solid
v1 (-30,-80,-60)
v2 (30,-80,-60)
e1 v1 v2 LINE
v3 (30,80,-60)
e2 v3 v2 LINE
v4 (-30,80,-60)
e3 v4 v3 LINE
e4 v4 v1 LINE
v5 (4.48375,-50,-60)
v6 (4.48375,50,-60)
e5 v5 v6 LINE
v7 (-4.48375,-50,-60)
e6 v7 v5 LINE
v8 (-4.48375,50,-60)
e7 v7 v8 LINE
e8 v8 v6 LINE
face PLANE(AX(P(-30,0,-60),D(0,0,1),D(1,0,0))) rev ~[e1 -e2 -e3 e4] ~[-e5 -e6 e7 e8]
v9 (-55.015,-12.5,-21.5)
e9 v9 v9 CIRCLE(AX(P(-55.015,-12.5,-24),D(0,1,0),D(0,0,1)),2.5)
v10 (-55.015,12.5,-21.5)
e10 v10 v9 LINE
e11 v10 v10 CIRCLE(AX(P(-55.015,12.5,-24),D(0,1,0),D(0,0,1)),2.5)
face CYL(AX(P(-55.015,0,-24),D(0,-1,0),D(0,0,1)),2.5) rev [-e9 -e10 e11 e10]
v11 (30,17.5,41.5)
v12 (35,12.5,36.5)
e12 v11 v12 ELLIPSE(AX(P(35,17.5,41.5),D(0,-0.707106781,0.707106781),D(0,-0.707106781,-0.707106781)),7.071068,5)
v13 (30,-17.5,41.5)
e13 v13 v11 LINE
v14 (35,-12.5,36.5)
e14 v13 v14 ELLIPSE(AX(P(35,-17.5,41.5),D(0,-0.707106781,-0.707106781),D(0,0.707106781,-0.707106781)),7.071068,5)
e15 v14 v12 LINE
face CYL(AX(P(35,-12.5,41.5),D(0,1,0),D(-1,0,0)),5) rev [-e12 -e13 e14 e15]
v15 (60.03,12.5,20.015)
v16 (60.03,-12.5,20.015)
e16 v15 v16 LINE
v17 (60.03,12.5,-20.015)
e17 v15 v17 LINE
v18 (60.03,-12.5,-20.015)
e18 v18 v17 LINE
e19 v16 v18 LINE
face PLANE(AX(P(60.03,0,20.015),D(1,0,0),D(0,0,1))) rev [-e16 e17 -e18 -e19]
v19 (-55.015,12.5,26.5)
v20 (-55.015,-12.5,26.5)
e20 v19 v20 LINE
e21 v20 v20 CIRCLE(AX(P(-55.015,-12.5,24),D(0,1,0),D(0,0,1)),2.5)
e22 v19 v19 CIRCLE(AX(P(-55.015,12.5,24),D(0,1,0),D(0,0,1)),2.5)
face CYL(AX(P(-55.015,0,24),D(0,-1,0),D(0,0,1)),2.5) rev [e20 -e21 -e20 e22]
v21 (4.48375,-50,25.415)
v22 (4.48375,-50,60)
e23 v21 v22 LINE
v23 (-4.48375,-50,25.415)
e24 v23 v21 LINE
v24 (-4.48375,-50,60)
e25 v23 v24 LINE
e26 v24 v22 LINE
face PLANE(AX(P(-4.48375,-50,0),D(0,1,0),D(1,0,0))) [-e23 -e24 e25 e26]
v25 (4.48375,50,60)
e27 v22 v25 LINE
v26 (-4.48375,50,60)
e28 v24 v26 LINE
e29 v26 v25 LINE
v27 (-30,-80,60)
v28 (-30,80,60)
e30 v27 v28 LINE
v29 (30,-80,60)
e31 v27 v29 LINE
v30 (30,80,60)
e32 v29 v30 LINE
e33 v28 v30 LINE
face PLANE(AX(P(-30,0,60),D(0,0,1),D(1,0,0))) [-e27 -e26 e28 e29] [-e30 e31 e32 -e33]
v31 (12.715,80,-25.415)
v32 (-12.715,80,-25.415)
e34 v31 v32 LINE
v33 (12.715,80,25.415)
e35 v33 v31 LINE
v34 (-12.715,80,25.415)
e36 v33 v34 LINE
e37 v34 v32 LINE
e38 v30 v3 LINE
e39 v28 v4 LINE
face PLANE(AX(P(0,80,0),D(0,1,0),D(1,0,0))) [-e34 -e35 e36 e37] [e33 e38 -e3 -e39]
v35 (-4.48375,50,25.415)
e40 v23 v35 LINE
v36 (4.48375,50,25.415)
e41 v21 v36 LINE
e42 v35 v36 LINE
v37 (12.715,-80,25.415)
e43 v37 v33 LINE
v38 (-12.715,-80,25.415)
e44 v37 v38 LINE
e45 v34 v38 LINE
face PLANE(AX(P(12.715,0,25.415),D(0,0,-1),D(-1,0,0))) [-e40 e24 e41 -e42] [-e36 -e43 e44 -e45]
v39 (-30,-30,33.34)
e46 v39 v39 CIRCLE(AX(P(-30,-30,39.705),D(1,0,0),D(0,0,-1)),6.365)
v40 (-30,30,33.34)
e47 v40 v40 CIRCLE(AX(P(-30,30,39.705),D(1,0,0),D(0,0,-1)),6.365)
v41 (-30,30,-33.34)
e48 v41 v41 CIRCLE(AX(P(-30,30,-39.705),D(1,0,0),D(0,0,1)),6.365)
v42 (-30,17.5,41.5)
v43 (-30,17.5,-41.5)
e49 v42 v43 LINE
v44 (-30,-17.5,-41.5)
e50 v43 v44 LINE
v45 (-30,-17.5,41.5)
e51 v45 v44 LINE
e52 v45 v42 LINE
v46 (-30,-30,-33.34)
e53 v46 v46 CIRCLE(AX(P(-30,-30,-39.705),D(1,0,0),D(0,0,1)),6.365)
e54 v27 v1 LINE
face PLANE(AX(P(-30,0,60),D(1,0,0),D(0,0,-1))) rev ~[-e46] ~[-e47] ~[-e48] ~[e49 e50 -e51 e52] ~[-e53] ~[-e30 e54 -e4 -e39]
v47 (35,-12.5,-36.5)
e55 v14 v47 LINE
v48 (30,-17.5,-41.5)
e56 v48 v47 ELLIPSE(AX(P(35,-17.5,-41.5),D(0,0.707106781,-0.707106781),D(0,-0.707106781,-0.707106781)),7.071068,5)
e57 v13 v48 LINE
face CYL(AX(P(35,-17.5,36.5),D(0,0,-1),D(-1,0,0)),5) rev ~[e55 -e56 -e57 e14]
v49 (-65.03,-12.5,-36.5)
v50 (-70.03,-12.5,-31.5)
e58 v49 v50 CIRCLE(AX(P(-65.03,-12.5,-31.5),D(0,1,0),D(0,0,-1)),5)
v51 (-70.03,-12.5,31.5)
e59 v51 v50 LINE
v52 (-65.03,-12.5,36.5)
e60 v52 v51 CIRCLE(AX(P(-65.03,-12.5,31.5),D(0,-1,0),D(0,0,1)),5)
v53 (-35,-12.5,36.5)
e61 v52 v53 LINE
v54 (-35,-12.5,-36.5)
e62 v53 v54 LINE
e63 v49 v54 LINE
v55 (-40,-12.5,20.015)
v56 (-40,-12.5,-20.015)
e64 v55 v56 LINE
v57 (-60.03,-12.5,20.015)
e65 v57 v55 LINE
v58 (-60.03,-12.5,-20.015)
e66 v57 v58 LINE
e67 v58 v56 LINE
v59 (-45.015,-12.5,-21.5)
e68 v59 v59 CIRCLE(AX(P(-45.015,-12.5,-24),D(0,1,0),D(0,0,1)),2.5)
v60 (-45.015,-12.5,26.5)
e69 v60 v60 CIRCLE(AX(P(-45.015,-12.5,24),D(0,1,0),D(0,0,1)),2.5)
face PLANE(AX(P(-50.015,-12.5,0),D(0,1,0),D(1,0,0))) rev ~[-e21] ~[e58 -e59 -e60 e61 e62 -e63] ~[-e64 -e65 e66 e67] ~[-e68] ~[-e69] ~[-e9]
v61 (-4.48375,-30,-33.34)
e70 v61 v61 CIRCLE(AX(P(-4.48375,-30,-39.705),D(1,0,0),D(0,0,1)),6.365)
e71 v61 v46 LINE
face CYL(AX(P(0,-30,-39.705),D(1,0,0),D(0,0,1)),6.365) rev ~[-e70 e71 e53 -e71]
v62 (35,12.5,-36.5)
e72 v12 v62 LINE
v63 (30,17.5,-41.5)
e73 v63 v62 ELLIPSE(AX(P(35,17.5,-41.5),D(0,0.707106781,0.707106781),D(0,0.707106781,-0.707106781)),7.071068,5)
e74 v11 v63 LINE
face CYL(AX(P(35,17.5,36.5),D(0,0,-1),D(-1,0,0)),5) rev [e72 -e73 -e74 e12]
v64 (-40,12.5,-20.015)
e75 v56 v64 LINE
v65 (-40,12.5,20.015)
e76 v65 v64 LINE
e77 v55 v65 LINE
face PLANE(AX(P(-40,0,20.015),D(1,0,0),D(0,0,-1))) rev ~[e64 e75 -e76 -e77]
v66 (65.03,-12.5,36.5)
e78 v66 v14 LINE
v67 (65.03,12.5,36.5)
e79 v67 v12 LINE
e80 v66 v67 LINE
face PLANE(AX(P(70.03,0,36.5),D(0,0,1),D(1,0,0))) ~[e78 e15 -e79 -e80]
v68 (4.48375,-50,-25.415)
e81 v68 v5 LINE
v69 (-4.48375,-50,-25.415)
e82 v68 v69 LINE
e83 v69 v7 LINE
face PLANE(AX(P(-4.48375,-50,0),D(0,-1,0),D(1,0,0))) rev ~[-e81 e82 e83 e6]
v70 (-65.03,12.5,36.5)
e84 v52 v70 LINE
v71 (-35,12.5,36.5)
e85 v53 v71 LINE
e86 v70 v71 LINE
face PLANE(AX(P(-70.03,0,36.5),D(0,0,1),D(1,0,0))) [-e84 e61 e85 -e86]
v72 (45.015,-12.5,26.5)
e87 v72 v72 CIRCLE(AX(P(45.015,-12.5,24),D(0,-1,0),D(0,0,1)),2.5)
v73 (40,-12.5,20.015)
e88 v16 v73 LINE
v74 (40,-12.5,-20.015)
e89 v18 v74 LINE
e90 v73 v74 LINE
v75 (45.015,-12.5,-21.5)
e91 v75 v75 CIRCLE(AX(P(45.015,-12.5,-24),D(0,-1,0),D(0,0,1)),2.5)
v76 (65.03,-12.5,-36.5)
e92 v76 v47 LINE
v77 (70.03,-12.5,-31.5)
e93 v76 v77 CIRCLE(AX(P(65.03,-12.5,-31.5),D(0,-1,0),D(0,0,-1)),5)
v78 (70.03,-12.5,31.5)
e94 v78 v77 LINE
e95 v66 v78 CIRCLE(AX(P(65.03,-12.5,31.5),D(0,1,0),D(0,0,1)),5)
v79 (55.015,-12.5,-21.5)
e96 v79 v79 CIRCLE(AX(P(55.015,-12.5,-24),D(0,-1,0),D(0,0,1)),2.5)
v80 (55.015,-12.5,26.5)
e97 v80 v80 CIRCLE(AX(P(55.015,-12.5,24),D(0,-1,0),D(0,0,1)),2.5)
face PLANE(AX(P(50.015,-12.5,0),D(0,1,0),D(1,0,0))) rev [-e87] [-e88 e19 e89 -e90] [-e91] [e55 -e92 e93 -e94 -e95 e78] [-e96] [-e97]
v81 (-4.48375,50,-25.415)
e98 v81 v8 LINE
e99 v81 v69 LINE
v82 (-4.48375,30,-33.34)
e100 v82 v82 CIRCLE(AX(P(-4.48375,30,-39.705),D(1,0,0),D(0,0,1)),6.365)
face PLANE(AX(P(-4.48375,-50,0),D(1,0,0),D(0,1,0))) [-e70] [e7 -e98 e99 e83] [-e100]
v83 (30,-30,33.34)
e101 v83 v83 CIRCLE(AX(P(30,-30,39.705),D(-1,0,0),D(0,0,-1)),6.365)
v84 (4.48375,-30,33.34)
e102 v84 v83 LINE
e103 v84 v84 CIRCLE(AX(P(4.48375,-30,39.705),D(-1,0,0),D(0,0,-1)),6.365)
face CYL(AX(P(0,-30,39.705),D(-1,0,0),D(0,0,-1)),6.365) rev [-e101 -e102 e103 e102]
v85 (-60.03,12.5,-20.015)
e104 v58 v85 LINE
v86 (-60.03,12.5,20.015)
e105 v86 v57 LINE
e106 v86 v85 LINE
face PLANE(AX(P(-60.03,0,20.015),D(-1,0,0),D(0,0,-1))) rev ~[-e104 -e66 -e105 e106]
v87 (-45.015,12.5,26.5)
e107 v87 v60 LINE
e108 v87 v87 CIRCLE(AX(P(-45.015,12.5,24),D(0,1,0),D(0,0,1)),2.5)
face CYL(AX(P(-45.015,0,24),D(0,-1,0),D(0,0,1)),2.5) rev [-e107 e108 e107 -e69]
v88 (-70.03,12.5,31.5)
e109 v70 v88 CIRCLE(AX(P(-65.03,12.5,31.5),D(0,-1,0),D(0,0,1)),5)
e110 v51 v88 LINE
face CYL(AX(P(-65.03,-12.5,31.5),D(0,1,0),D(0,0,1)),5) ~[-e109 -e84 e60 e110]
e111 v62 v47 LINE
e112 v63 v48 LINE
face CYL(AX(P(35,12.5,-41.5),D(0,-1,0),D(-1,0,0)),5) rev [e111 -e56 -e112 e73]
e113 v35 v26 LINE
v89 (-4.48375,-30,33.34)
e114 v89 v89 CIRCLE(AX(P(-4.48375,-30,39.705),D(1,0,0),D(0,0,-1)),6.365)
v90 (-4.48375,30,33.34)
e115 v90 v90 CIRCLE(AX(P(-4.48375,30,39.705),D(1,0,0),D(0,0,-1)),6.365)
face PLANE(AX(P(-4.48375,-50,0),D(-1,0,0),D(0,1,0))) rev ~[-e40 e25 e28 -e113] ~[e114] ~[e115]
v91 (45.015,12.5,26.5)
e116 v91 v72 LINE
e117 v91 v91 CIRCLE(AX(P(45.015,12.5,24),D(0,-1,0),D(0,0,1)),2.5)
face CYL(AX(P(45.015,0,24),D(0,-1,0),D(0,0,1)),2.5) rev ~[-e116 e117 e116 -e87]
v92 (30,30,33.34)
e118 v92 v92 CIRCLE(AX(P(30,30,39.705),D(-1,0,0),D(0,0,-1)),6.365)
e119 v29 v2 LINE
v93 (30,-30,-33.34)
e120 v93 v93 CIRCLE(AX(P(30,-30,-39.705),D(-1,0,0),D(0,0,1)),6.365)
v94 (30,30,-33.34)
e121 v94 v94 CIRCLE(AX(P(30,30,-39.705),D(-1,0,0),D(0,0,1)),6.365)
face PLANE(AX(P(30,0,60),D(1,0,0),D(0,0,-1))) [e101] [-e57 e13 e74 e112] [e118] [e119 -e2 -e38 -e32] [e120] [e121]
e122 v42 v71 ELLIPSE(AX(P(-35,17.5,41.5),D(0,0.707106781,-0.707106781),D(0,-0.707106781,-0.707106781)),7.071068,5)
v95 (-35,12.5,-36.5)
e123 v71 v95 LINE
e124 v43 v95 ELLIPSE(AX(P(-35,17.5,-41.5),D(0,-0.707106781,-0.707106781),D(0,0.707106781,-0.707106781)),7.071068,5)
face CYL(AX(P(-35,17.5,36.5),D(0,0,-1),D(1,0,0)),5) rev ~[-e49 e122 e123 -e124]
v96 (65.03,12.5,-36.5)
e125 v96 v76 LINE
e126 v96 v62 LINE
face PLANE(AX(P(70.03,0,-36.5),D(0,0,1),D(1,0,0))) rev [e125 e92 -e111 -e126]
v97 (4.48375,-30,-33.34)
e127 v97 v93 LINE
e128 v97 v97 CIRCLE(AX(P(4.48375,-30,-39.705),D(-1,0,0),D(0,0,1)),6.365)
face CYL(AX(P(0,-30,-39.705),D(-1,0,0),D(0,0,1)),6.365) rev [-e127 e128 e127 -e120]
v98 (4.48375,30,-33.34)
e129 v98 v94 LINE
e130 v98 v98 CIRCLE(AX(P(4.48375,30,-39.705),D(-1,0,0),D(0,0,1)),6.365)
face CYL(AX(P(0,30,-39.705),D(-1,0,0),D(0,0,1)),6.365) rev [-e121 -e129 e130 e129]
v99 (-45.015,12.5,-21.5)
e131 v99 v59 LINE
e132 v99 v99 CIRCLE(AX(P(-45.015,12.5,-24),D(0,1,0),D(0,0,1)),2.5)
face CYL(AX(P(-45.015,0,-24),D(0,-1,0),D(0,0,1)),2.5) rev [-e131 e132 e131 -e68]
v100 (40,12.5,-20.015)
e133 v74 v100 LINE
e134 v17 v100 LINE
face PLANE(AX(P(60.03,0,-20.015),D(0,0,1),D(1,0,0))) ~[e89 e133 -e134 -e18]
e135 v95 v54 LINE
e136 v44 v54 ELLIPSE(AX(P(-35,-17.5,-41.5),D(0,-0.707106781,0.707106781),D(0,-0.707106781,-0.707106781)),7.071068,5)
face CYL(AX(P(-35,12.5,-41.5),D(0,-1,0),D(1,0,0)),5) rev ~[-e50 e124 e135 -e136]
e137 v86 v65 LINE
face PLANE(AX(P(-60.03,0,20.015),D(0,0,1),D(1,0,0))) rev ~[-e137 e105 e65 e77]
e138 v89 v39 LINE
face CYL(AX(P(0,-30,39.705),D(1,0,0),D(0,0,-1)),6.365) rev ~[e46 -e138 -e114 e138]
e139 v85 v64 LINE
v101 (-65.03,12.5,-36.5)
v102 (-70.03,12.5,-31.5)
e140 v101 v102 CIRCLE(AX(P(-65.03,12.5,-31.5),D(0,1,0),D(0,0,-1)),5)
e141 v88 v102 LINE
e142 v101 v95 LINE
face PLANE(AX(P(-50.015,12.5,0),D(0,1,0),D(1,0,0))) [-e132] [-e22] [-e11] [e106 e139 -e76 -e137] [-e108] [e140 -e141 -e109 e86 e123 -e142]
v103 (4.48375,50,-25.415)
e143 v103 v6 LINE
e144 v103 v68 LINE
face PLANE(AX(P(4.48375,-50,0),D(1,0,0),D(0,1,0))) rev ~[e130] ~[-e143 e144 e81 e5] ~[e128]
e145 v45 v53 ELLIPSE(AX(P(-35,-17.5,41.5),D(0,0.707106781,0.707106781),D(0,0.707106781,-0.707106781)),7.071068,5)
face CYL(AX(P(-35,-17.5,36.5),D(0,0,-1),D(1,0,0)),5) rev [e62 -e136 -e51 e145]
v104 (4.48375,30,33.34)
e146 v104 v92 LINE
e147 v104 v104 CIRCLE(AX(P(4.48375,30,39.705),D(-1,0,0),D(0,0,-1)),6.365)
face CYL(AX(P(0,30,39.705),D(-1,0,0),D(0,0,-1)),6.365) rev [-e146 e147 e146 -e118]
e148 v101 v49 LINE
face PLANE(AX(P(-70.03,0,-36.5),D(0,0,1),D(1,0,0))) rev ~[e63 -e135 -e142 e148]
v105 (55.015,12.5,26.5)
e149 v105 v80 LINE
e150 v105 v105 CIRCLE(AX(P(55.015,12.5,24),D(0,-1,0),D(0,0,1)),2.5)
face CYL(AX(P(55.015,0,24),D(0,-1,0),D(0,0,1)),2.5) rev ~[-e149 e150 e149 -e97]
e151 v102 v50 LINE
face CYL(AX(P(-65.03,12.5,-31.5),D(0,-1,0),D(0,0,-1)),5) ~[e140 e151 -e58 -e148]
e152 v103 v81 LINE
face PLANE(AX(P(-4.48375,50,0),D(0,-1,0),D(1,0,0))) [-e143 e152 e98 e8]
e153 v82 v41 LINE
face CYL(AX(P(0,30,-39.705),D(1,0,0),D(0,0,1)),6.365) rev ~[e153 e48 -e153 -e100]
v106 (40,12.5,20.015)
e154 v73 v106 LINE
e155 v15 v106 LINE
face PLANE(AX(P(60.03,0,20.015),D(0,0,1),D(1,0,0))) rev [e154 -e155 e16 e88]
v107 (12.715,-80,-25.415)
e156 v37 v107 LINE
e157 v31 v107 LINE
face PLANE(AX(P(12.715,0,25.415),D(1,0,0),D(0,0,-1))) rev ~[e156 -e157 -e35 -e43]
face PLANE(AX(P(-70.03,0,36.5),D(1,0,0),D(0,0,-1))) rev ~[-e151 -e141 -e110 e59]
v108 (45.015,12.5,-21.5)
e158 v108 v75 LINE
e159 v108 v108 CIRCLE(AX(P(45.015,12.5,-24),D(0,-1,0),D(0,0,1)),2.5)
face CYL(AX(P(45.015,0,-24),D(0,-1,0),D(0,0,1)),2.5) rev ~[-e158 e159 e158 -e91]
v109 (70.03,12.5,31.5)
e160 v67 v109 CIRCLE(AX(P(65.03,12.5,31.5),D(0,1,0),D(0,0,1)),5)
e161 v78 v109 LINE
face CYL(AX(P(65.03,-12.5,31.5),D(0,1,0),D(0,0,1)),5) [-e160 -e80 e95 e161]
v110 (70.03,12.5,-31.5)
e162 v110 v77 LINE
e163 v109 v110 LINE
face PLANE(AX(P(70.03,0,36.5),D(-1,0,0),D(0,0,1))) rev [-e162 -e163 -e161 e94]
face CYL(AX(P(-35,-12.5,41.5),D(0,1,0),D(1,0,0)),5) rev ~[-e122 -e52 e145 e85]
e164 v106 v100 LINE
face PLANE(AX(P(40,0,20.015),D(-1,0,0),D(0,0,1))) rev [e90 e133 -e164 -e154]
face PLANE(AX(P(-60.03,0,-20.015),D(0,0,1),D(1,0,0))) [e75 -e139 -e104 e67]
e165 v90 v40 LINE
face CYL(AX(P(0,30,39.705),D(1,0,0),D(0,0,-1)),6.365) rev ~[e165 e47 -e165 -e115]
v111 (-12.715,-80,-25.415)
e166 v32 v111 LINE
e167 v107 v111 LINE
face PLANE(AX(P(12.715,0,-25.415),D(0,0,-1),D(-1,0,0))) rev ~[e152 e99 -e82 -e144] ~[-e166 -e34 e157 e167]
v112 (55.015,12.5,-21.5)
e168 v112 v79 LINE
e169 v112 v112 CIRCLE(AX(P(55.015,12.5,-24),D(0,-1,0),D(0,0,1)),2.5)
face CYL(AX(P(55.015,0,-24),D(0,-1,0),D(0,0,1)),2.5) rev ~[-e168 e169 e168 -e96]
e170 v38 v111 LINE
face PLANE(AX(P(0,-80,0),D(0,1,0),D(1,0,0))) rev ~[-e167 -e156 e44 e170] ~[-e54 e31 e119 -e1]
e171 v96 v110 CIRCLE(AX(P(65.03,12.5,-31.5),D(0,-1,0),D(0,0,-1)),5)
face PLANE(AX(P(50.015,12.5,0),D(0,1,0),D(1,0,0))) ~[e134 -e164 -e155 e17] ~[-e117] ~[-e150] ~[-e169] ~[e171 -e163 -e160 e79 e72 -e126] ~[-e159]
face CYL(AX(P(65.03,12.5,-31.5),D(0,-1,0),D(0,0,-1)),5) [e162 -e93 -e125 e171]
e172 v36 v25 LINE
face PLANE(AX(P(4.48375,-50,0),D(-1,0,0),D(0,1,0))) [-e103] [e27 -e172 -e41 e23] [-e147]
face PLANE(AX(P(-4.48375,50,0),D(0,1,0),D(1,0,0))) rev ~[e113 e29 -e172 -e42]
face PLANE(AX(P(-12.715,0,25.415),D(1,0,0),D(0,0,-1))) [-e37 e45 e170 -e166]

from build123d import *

# Parameters (mm, degrees)
SKETCH1_W                      = 60
SKETCH1_H                      = 120
BOSS_EXTRUDE1_DEPTH            = 80
CUT_EXTRUDE2_REACH             = 106.403
SKETCH3_W                      = 50.83
SKETCH3_H                      = 25.43
CUT_EXTRUDE2_DIRECTION_2_REACH = 106.403
CUT_EXTRUDE3_REACH             = 106.403
SKETCH5_W                      = 8.9675
SKETCH5_H                      = 100
CUT_EXTRUDE3_DIRECTION_2_REACH = 106.403
CUT_EXTRUDE4_REACH             = 106.403
SKETCH6_R                      = 6.365
CUT_EXTRUDE4_DIRECTION_2_REACH = 106.403
SKETCH7_W                      = 40.03
SKETCH7_H                      = 73
SKETCH7_R                      = 2.5
SKETCH7_W_2                    = 20.03
SKETCH7_H_2                    = 40.03
BOSS_EXTRUDE2_DEPTH            = 12.5
FILLET2_R                      = 5


with BuildPart() as part:
    # Sketch1 → Boss-Extrude1 (new, symmetric)
    with BuildSketch(Plane(origin=(0, 0, 0), x_dir=(1, 0, 0), z_dir=(0, 1, 0))):
        Rectangle(SKETCH1_W, SKETCH1_H)
    extrude(amount=BOSS_EXTRUDE1_DEPTH, both=True)

    # Cut-Extrude2: up to this face of the body (flat: up to its plane)
    cut_extrude2_end = Plane(part.part.faces().sort_by_distance((0, -80, 0))[0])
    # Sketch3 → Cut-Extrude2 (cut, up to the picked face)
    with BuildSketch(Plane(origin=(0, 0, 0), x_dir=(0, 0, -1), z_dir=(0, 1, 0)), mode=Mode.PRIVATE) as cut_extrude2_sk1:
        Rectangle(SKETCH3_W, SKETCH3_H)
    cut_extrude2_tool1 = split(extrude(cut_extrude2_sk1.sketch, amount=-CUT_EXTRUDE2_REACH, mode=Mode.PRIVATE), bisect_by=cut_extrude2_end, keep=Keep.BOTH, mode=Mode.PRIVATE)
    add(cut_extrude2_tool1.solids().sort_by(Axis((0, 0, 0), (0, -1, 0)))[0], mode=Mode.SUBTRACT)

    # Cut-Extrude2 direction 2: up to this face of the body (flat: up to its plane)
    cut_extrude2_direction_2_end = Plane(part.part.faces().sort_by_distance((0, 80, 0))[0])
    # Sketch3 → Cut-Extrude2 direction 2 (cut, up to the picked face)
    with BuildSketch(Plane(origin=(0, 0, 0), x_dir=(0, 0, -1), z_dir=(0, 1, 0)), mode=Mode.PRIVATE) as cut_extrude2_direction_2_sk1:
        Rectangle(SKETCH3_W, SKETCH3_H)
    cut_extrude2_direction_2_tool1 = split(extrude(cut_extrude2_direction_2_sk1.sketch, amount=CUT_EXTRUDE2_DIRECTION_2_REACH, mode=Mode.PRIVATE), bisect_by=cut_extrude2_direction_2_end, keep=Keep.BOTH, mode=Mode.PRIVATE)
    add(cut_extrude2_direction_2_tool1.solids().sort_by(Axis((0, 0, 0), (0, 1, 0)))[0], mode=Mode.SUBTRACT)

    # Cut-Extrude3: up to this face of the body (flat: up to its plane)
    cut_extrude3_end = Plane(part.part.faces().sort_by_distance((0, 0, 60))[0])
    # Sketch5 → Cut-Extrude3 (cut, up to the picked face)
    with BuildSketch(Plane.XY, mode=Mode.PRIVATE) as cut_extrude3_sk1:
        Rectangle(SKETCH5_W, SKETCH5_H)
    cut_extrude3_tool1 = split(extrude(cut_extrude3_sk1.sketch, amount=CUT_EXTRUDE3_REACH, mode=Mode.PRIVATE), bisect_by=cut_extrude3_end, keep=Keep.BOTH, mode=Mode.PRIVATE)
    add(cut_extrude3_tool1.solids().sort_by(Axis((0, 0, 0), (0, 0, 1)))[0], mode=Mode.SUBTRACT)

    # Cut-Extrude3 direction 2: up to this face of the body (flat: up to its plane)
    cut_extrude3_direction_2_end = Plane(part.part.faces().sort_by_distance((0, 0, -60))[0])
    # Sketch5 → Cut-Extrude3 direction 2 (cut, up to the picked face)
    with BuildSketch(Plane.XY, mode=Mode.PRIVATE) as cut_extrude3_direction_2_sk1:
        Rectangle(SKETCH5_W, SKETCH5_H)
    cut_extrude3_direction_2_tool1 = split(extrude(cut_extrude3_direction_2_sk1.sketch, amount=-CUT_EXTRUDE3_DIRECTION_2_REACH, mode=Mode.PRIVATE), bisect_by=cut_extrude3_direction_2_end, keep=Keep.BOTH, mode=Mode.PRIVATE)
    add(cut_extrude3_direction_2_tool1.solids().sort_by(Axis((0, 0, 0), (0, 0, -1)))[0], mode=Mode.SUBTRACT)

    # Cut-Extrude4: up to this face of the body (flat: up to its plane)
    cut_extrude4_end = Plane(part.part.faces().sort_by_distance((30, 0, 0))[0])
    # Sketch6 → Cut-Extrude4 (cut, up to the picked face)
    with BuildSketch(Plane(origin=(0, 0, 0), x_dir=(0, 0, -1), z_dir=(1, 0, 0)), mode=Mode.PRIVATE) as cut_extrude4_sk1:
        with Locations((-39.705, -30)):
            Circle(SKETCH6_R)
    cut_extrude4_tool1 = split(extrude(cut_extrude4_sk1.sketch, amount=CUT_EXTRUDE4_REACH, mode=Mode.PRIVATE), bisect_by=cut_extrude4_end, keep=Keep.BOTH, mode=Mode.PRIVATE)
    # Sketch6 → Cut-Extrude4 (cut, up to the picked face)
    with BuildSketch(Plane(origin=(0, 0, 0), x_dir=(0, 0, -1), z_dir=(1, 0, 0)), mode=Mode.PRIVATE) as cut_extrude4_sk2:
        with Locations((-39.705, 30)):
            Circle(SKETCH6_R)
    cut_extrude4_tool2 = split(extrude(cut_extrude4_sk2.sketch, amount=CUT_EXTRUDE4_REACH, mode=Mode.PRIVATE), bisect_by=cut_extrude4_end, keep=Keep.BOTH, mode=Mode.PRIVATE)
    # Sketch6 → Cut-Extrude4 (cut, up to the picked face)
    with BuildSketch(Plane(origin=(0, 0, 0), x_dir=(0, 0, -1), z_dir=(1, 0, 0)), mode=Mode.PRIVATE) as cut_extrude4_sk3:
        with Locations(Location((39.705, -30, 0), (0, 0, 180))):
            Circle(SKETCH6_R)
    cut_extrude4_tool3 = split(extrude(cut_extrude4_sk3.sketch, amount=CUT_EXTRUDE4_REACH, mode=Mode.PRIVATE), bisect_by=cut_extrude4_end, keep=Keep.BOTH, mode=Mode.PRIVATE)
    # Sketch6 → Cut-Extrude4 (cut, up to the picked face)
    with BuildSketch(Plane(origin=(0, 0, 0), x_dir=(0, 0, -1), z_dir=(1, 0, 0)), mode=Mode.PRIVATE) as cut_extrude4_sk4:
        with Locations(Location((39.705, 30, 0), (0, 0, 180))):
            Circle(SKETCH6_R)
    cut_extrude4_tool4 = split(extrude(cut_extrude4_sk4.sketch, amount=CUT_EXTRUDE4_REACH, mode=Mode.PRIVATE), bisect_by=cut_extrude4_end, keep=Keep.BOTH, mode=Mode.PRIVATE)
    add(cut_extrude4_tool1.solids().sort_by(Axis((0, -30, 39.705), (1, 0, 0)))[0], mode=Mode.SUBTRACT)
    add(cut_extrude4_tool2.solids().sort_by(Axis((0, 30, 39.705), (1, 0, 0)))[0], mode=Mode.SUBTRACT)
    add(cut_extrude4_tool3.solids().sort_by(Axis((0, -30, -39.705), (1, 0, 0)))[0], mode=Mode.SUBTRACT)
    add(cut_extrude4_tool4.solids().sort_by(Axis((0, 30, -39.705), (1, 0, 0)))[0], mode=Mode.SUBTRACT)

    # Cut-Extrude4 direction 2: up to this face of the body (flat: up to its plane)
    cut_extrude4_direction_2_end = Plane(part.part.faces().sort_by_distance((-30, 0, 0))[0])
    # Sketch6 → Cut-Extrude4 direction 2 (cut, up to the picked face)
    with BuildSketch(Plane(origin=(0, 0, 0), x_dir=(0, 0, -1), z_dir=(1, 0, 0)), mode=Mode.PRIVATE) as cut_extrude4_direction_2_sk1:
        with Locations((-39.705, -30)):
            Circle(SKETCH6_R)
    cut_extrude4_direction_2_tool1 = split(extrude(cut_extrude4_direction_2_sk1.sketch, amount=-CUT_EXTRUDE4_DIRECTION_2_REACH, mode=Mode.PRIVATE), bisect_by=cut_extrude4_direction_2_end, keep=Keep.BOTH, mode=Mode.PRIVATE)
    # Sketch6 → Cut-Extrude4 direction 2 (cut, up to the picked face)
    with BuildSketch(Plane(origin=(0, 0, 0), x_dir=(0, 0, -1), z_dir=(1, 0, 0)), mode=Mode.PRIVATE) as cut_extrude4_direction_2_sk2:
        with Locations((-39.705, 30)):
            Circle(SKETCH6_R)
    cut_extrude4_direction_2_tool2 = split(extrude(cut_extrude4_direction_2_sk2.sketch, amount=-CUT_EXTRUDE4_DIRECTION_2_REACH, mode=Mode.PRIVATE), bisect_by=cut_extrude4_direction_2_end, keep=Keep.BOTH, mode=Mode.PRIVATE)
    # Sketch6 → Cut-Extrude4 direction 2 (cut, up to the picked face)
    with BuildSketch(Plane(origin=(0, 0, 0), x_dir=(0, 0, -1), z_dir=(1, 0, 0)), mode=Mode.PRIVATE) as cut_extrude4_direction_2_sk3:
        with Locations(Location((39.705, -30, 0), (0, 0, 180))):
            Circle(SKETCH6_R)
    cut_extrude4_direction_2_tool3 = split(extrude(cut_extrude4_direction_2_sk3.sketch, amount=-CUT_EXTRUDE4_DIRECTION_2_REACH, mode=Mode.PRIVATE), bisect_by=cut_extrude4_direction_2_end, keep=Keep.BOTH, mode=Mode.PRIVATE)
    # Sketch6 → Cut-Extrude4 direction 2 (cut, up to the picked face)
    with BuildSketch(Plane(origin=(0, 0, 0), x_dir=(0, 0, -1), z_dir=(1, 0, 0)), mode=Mode.PRIVATE) as cut_extrude4_direction_2_sk4:
        with Locations(Location((39.705, 30, 0), (0, 0, 180))):
            Circle(SKETCH6_R)
    cut_extrude4_direction_2_tool4 = split(extrude(cut_extrude4_direction_2_sk4.sketch, amount=-CUT_EXTRUDE4_DIRECTION_2_REACH, mode=Mode.PRIVATE), bisect_by=cut_extrude4_direction_2_end, keep=Keep.BOTH, mode=Mode.PRIVATE)
    add(cut_extrude4_direction_2_tool1.solids().sort_by(Axis((0, -30, 39.705), (-1, 0, 0)))[0], mode=Mode.SUBTRACT)
    add(cut_extrude4_direction_2_tool2.solids().sort_by(Axis((0, 30, 39.705), (-1, 0, 0)))[0], mode=Mode.SUBTRACT)
    add(cut_extrude4_direction_2_tool3.solids().sort_by(Axis((0, -30, -39.705), (-1, 0, 0)))[0], mode=Mode.SUBTRACT)
    add(cut_extrude4_direction_2_tool4.solids().sort_by(Axis((0, 30, -39.705), (-1, 0, 0)))[0], mode=Mode.SUBTRACT)

    # Sketch7 → Boss-Extrude2 (add, symmetric)
    with BuildSketch(Plane(origin=(0, 0, 0), x_dir=(1, 0, 0), z_dir=(0, 1, 0))):
        with Locations((-50.015, 0)):
            Rectangle(SKETCH7_W, SKETCH7_H)
        with Locations(Location((-55.015, 24, 0), (0, 0, 270))):
            Circle(SKETCH7_R, mode=Mode.SUBTRACT)
        with Locations(Location((-45.015, 24, 0), (0, 0, 270))):
            Circle(SKETCH7_R, mode=Mode.SUBTRACT)
        with Locations(Location((-55.015, -24, 0), (0, 0, 270))):
            Circle(SKETCH7_R, mode=Mode.SUBTRACT)
        with Locations(Location((-45.015, -24, 0), (0, 0, 270))):
            Circle(SKETCH7_R, mode=Mode.SUBTRACT)
        with Locations((-50.015, 0)):
            Rectangle(SKETCH7_W_2, SKETCH7_H_2, mode=Mode.SUBTRACT)
    boss_extrude2 = extrude(amount=BOSS_EXTRUDE2_DEPTH, both=True)

    # Mirror2: Boss-Extrude2 across plane
    add(boss_extrude2.mirror(Plane(origin=(0, 0, 0), x_dir=(0, 0, 1), z_dir=(1, 0, 0))))

    # Fillet2
    fillet2_edges = [part.edges().sort_by_distance(p)[0] for p in [
        (-30, 12.5, 0),
        (-30, -12.5, 0),
        (-30, 0, 36.5),
        (-30, 0, -36.5),
        (-70.03, 0, -36.5),
        (-70.03, 0, 36.5),
        (30, 12.5, 0),
        (30, 0, -36.5),
        (30, 0, 36.5),
        (70.03, 0, 36.5),
        (70.03, 0, -36.5),
        (30, -12.5, 0),
    ]]
    fillet(fillet2_edges, radius=FILLET2_R)


solid = part.part
